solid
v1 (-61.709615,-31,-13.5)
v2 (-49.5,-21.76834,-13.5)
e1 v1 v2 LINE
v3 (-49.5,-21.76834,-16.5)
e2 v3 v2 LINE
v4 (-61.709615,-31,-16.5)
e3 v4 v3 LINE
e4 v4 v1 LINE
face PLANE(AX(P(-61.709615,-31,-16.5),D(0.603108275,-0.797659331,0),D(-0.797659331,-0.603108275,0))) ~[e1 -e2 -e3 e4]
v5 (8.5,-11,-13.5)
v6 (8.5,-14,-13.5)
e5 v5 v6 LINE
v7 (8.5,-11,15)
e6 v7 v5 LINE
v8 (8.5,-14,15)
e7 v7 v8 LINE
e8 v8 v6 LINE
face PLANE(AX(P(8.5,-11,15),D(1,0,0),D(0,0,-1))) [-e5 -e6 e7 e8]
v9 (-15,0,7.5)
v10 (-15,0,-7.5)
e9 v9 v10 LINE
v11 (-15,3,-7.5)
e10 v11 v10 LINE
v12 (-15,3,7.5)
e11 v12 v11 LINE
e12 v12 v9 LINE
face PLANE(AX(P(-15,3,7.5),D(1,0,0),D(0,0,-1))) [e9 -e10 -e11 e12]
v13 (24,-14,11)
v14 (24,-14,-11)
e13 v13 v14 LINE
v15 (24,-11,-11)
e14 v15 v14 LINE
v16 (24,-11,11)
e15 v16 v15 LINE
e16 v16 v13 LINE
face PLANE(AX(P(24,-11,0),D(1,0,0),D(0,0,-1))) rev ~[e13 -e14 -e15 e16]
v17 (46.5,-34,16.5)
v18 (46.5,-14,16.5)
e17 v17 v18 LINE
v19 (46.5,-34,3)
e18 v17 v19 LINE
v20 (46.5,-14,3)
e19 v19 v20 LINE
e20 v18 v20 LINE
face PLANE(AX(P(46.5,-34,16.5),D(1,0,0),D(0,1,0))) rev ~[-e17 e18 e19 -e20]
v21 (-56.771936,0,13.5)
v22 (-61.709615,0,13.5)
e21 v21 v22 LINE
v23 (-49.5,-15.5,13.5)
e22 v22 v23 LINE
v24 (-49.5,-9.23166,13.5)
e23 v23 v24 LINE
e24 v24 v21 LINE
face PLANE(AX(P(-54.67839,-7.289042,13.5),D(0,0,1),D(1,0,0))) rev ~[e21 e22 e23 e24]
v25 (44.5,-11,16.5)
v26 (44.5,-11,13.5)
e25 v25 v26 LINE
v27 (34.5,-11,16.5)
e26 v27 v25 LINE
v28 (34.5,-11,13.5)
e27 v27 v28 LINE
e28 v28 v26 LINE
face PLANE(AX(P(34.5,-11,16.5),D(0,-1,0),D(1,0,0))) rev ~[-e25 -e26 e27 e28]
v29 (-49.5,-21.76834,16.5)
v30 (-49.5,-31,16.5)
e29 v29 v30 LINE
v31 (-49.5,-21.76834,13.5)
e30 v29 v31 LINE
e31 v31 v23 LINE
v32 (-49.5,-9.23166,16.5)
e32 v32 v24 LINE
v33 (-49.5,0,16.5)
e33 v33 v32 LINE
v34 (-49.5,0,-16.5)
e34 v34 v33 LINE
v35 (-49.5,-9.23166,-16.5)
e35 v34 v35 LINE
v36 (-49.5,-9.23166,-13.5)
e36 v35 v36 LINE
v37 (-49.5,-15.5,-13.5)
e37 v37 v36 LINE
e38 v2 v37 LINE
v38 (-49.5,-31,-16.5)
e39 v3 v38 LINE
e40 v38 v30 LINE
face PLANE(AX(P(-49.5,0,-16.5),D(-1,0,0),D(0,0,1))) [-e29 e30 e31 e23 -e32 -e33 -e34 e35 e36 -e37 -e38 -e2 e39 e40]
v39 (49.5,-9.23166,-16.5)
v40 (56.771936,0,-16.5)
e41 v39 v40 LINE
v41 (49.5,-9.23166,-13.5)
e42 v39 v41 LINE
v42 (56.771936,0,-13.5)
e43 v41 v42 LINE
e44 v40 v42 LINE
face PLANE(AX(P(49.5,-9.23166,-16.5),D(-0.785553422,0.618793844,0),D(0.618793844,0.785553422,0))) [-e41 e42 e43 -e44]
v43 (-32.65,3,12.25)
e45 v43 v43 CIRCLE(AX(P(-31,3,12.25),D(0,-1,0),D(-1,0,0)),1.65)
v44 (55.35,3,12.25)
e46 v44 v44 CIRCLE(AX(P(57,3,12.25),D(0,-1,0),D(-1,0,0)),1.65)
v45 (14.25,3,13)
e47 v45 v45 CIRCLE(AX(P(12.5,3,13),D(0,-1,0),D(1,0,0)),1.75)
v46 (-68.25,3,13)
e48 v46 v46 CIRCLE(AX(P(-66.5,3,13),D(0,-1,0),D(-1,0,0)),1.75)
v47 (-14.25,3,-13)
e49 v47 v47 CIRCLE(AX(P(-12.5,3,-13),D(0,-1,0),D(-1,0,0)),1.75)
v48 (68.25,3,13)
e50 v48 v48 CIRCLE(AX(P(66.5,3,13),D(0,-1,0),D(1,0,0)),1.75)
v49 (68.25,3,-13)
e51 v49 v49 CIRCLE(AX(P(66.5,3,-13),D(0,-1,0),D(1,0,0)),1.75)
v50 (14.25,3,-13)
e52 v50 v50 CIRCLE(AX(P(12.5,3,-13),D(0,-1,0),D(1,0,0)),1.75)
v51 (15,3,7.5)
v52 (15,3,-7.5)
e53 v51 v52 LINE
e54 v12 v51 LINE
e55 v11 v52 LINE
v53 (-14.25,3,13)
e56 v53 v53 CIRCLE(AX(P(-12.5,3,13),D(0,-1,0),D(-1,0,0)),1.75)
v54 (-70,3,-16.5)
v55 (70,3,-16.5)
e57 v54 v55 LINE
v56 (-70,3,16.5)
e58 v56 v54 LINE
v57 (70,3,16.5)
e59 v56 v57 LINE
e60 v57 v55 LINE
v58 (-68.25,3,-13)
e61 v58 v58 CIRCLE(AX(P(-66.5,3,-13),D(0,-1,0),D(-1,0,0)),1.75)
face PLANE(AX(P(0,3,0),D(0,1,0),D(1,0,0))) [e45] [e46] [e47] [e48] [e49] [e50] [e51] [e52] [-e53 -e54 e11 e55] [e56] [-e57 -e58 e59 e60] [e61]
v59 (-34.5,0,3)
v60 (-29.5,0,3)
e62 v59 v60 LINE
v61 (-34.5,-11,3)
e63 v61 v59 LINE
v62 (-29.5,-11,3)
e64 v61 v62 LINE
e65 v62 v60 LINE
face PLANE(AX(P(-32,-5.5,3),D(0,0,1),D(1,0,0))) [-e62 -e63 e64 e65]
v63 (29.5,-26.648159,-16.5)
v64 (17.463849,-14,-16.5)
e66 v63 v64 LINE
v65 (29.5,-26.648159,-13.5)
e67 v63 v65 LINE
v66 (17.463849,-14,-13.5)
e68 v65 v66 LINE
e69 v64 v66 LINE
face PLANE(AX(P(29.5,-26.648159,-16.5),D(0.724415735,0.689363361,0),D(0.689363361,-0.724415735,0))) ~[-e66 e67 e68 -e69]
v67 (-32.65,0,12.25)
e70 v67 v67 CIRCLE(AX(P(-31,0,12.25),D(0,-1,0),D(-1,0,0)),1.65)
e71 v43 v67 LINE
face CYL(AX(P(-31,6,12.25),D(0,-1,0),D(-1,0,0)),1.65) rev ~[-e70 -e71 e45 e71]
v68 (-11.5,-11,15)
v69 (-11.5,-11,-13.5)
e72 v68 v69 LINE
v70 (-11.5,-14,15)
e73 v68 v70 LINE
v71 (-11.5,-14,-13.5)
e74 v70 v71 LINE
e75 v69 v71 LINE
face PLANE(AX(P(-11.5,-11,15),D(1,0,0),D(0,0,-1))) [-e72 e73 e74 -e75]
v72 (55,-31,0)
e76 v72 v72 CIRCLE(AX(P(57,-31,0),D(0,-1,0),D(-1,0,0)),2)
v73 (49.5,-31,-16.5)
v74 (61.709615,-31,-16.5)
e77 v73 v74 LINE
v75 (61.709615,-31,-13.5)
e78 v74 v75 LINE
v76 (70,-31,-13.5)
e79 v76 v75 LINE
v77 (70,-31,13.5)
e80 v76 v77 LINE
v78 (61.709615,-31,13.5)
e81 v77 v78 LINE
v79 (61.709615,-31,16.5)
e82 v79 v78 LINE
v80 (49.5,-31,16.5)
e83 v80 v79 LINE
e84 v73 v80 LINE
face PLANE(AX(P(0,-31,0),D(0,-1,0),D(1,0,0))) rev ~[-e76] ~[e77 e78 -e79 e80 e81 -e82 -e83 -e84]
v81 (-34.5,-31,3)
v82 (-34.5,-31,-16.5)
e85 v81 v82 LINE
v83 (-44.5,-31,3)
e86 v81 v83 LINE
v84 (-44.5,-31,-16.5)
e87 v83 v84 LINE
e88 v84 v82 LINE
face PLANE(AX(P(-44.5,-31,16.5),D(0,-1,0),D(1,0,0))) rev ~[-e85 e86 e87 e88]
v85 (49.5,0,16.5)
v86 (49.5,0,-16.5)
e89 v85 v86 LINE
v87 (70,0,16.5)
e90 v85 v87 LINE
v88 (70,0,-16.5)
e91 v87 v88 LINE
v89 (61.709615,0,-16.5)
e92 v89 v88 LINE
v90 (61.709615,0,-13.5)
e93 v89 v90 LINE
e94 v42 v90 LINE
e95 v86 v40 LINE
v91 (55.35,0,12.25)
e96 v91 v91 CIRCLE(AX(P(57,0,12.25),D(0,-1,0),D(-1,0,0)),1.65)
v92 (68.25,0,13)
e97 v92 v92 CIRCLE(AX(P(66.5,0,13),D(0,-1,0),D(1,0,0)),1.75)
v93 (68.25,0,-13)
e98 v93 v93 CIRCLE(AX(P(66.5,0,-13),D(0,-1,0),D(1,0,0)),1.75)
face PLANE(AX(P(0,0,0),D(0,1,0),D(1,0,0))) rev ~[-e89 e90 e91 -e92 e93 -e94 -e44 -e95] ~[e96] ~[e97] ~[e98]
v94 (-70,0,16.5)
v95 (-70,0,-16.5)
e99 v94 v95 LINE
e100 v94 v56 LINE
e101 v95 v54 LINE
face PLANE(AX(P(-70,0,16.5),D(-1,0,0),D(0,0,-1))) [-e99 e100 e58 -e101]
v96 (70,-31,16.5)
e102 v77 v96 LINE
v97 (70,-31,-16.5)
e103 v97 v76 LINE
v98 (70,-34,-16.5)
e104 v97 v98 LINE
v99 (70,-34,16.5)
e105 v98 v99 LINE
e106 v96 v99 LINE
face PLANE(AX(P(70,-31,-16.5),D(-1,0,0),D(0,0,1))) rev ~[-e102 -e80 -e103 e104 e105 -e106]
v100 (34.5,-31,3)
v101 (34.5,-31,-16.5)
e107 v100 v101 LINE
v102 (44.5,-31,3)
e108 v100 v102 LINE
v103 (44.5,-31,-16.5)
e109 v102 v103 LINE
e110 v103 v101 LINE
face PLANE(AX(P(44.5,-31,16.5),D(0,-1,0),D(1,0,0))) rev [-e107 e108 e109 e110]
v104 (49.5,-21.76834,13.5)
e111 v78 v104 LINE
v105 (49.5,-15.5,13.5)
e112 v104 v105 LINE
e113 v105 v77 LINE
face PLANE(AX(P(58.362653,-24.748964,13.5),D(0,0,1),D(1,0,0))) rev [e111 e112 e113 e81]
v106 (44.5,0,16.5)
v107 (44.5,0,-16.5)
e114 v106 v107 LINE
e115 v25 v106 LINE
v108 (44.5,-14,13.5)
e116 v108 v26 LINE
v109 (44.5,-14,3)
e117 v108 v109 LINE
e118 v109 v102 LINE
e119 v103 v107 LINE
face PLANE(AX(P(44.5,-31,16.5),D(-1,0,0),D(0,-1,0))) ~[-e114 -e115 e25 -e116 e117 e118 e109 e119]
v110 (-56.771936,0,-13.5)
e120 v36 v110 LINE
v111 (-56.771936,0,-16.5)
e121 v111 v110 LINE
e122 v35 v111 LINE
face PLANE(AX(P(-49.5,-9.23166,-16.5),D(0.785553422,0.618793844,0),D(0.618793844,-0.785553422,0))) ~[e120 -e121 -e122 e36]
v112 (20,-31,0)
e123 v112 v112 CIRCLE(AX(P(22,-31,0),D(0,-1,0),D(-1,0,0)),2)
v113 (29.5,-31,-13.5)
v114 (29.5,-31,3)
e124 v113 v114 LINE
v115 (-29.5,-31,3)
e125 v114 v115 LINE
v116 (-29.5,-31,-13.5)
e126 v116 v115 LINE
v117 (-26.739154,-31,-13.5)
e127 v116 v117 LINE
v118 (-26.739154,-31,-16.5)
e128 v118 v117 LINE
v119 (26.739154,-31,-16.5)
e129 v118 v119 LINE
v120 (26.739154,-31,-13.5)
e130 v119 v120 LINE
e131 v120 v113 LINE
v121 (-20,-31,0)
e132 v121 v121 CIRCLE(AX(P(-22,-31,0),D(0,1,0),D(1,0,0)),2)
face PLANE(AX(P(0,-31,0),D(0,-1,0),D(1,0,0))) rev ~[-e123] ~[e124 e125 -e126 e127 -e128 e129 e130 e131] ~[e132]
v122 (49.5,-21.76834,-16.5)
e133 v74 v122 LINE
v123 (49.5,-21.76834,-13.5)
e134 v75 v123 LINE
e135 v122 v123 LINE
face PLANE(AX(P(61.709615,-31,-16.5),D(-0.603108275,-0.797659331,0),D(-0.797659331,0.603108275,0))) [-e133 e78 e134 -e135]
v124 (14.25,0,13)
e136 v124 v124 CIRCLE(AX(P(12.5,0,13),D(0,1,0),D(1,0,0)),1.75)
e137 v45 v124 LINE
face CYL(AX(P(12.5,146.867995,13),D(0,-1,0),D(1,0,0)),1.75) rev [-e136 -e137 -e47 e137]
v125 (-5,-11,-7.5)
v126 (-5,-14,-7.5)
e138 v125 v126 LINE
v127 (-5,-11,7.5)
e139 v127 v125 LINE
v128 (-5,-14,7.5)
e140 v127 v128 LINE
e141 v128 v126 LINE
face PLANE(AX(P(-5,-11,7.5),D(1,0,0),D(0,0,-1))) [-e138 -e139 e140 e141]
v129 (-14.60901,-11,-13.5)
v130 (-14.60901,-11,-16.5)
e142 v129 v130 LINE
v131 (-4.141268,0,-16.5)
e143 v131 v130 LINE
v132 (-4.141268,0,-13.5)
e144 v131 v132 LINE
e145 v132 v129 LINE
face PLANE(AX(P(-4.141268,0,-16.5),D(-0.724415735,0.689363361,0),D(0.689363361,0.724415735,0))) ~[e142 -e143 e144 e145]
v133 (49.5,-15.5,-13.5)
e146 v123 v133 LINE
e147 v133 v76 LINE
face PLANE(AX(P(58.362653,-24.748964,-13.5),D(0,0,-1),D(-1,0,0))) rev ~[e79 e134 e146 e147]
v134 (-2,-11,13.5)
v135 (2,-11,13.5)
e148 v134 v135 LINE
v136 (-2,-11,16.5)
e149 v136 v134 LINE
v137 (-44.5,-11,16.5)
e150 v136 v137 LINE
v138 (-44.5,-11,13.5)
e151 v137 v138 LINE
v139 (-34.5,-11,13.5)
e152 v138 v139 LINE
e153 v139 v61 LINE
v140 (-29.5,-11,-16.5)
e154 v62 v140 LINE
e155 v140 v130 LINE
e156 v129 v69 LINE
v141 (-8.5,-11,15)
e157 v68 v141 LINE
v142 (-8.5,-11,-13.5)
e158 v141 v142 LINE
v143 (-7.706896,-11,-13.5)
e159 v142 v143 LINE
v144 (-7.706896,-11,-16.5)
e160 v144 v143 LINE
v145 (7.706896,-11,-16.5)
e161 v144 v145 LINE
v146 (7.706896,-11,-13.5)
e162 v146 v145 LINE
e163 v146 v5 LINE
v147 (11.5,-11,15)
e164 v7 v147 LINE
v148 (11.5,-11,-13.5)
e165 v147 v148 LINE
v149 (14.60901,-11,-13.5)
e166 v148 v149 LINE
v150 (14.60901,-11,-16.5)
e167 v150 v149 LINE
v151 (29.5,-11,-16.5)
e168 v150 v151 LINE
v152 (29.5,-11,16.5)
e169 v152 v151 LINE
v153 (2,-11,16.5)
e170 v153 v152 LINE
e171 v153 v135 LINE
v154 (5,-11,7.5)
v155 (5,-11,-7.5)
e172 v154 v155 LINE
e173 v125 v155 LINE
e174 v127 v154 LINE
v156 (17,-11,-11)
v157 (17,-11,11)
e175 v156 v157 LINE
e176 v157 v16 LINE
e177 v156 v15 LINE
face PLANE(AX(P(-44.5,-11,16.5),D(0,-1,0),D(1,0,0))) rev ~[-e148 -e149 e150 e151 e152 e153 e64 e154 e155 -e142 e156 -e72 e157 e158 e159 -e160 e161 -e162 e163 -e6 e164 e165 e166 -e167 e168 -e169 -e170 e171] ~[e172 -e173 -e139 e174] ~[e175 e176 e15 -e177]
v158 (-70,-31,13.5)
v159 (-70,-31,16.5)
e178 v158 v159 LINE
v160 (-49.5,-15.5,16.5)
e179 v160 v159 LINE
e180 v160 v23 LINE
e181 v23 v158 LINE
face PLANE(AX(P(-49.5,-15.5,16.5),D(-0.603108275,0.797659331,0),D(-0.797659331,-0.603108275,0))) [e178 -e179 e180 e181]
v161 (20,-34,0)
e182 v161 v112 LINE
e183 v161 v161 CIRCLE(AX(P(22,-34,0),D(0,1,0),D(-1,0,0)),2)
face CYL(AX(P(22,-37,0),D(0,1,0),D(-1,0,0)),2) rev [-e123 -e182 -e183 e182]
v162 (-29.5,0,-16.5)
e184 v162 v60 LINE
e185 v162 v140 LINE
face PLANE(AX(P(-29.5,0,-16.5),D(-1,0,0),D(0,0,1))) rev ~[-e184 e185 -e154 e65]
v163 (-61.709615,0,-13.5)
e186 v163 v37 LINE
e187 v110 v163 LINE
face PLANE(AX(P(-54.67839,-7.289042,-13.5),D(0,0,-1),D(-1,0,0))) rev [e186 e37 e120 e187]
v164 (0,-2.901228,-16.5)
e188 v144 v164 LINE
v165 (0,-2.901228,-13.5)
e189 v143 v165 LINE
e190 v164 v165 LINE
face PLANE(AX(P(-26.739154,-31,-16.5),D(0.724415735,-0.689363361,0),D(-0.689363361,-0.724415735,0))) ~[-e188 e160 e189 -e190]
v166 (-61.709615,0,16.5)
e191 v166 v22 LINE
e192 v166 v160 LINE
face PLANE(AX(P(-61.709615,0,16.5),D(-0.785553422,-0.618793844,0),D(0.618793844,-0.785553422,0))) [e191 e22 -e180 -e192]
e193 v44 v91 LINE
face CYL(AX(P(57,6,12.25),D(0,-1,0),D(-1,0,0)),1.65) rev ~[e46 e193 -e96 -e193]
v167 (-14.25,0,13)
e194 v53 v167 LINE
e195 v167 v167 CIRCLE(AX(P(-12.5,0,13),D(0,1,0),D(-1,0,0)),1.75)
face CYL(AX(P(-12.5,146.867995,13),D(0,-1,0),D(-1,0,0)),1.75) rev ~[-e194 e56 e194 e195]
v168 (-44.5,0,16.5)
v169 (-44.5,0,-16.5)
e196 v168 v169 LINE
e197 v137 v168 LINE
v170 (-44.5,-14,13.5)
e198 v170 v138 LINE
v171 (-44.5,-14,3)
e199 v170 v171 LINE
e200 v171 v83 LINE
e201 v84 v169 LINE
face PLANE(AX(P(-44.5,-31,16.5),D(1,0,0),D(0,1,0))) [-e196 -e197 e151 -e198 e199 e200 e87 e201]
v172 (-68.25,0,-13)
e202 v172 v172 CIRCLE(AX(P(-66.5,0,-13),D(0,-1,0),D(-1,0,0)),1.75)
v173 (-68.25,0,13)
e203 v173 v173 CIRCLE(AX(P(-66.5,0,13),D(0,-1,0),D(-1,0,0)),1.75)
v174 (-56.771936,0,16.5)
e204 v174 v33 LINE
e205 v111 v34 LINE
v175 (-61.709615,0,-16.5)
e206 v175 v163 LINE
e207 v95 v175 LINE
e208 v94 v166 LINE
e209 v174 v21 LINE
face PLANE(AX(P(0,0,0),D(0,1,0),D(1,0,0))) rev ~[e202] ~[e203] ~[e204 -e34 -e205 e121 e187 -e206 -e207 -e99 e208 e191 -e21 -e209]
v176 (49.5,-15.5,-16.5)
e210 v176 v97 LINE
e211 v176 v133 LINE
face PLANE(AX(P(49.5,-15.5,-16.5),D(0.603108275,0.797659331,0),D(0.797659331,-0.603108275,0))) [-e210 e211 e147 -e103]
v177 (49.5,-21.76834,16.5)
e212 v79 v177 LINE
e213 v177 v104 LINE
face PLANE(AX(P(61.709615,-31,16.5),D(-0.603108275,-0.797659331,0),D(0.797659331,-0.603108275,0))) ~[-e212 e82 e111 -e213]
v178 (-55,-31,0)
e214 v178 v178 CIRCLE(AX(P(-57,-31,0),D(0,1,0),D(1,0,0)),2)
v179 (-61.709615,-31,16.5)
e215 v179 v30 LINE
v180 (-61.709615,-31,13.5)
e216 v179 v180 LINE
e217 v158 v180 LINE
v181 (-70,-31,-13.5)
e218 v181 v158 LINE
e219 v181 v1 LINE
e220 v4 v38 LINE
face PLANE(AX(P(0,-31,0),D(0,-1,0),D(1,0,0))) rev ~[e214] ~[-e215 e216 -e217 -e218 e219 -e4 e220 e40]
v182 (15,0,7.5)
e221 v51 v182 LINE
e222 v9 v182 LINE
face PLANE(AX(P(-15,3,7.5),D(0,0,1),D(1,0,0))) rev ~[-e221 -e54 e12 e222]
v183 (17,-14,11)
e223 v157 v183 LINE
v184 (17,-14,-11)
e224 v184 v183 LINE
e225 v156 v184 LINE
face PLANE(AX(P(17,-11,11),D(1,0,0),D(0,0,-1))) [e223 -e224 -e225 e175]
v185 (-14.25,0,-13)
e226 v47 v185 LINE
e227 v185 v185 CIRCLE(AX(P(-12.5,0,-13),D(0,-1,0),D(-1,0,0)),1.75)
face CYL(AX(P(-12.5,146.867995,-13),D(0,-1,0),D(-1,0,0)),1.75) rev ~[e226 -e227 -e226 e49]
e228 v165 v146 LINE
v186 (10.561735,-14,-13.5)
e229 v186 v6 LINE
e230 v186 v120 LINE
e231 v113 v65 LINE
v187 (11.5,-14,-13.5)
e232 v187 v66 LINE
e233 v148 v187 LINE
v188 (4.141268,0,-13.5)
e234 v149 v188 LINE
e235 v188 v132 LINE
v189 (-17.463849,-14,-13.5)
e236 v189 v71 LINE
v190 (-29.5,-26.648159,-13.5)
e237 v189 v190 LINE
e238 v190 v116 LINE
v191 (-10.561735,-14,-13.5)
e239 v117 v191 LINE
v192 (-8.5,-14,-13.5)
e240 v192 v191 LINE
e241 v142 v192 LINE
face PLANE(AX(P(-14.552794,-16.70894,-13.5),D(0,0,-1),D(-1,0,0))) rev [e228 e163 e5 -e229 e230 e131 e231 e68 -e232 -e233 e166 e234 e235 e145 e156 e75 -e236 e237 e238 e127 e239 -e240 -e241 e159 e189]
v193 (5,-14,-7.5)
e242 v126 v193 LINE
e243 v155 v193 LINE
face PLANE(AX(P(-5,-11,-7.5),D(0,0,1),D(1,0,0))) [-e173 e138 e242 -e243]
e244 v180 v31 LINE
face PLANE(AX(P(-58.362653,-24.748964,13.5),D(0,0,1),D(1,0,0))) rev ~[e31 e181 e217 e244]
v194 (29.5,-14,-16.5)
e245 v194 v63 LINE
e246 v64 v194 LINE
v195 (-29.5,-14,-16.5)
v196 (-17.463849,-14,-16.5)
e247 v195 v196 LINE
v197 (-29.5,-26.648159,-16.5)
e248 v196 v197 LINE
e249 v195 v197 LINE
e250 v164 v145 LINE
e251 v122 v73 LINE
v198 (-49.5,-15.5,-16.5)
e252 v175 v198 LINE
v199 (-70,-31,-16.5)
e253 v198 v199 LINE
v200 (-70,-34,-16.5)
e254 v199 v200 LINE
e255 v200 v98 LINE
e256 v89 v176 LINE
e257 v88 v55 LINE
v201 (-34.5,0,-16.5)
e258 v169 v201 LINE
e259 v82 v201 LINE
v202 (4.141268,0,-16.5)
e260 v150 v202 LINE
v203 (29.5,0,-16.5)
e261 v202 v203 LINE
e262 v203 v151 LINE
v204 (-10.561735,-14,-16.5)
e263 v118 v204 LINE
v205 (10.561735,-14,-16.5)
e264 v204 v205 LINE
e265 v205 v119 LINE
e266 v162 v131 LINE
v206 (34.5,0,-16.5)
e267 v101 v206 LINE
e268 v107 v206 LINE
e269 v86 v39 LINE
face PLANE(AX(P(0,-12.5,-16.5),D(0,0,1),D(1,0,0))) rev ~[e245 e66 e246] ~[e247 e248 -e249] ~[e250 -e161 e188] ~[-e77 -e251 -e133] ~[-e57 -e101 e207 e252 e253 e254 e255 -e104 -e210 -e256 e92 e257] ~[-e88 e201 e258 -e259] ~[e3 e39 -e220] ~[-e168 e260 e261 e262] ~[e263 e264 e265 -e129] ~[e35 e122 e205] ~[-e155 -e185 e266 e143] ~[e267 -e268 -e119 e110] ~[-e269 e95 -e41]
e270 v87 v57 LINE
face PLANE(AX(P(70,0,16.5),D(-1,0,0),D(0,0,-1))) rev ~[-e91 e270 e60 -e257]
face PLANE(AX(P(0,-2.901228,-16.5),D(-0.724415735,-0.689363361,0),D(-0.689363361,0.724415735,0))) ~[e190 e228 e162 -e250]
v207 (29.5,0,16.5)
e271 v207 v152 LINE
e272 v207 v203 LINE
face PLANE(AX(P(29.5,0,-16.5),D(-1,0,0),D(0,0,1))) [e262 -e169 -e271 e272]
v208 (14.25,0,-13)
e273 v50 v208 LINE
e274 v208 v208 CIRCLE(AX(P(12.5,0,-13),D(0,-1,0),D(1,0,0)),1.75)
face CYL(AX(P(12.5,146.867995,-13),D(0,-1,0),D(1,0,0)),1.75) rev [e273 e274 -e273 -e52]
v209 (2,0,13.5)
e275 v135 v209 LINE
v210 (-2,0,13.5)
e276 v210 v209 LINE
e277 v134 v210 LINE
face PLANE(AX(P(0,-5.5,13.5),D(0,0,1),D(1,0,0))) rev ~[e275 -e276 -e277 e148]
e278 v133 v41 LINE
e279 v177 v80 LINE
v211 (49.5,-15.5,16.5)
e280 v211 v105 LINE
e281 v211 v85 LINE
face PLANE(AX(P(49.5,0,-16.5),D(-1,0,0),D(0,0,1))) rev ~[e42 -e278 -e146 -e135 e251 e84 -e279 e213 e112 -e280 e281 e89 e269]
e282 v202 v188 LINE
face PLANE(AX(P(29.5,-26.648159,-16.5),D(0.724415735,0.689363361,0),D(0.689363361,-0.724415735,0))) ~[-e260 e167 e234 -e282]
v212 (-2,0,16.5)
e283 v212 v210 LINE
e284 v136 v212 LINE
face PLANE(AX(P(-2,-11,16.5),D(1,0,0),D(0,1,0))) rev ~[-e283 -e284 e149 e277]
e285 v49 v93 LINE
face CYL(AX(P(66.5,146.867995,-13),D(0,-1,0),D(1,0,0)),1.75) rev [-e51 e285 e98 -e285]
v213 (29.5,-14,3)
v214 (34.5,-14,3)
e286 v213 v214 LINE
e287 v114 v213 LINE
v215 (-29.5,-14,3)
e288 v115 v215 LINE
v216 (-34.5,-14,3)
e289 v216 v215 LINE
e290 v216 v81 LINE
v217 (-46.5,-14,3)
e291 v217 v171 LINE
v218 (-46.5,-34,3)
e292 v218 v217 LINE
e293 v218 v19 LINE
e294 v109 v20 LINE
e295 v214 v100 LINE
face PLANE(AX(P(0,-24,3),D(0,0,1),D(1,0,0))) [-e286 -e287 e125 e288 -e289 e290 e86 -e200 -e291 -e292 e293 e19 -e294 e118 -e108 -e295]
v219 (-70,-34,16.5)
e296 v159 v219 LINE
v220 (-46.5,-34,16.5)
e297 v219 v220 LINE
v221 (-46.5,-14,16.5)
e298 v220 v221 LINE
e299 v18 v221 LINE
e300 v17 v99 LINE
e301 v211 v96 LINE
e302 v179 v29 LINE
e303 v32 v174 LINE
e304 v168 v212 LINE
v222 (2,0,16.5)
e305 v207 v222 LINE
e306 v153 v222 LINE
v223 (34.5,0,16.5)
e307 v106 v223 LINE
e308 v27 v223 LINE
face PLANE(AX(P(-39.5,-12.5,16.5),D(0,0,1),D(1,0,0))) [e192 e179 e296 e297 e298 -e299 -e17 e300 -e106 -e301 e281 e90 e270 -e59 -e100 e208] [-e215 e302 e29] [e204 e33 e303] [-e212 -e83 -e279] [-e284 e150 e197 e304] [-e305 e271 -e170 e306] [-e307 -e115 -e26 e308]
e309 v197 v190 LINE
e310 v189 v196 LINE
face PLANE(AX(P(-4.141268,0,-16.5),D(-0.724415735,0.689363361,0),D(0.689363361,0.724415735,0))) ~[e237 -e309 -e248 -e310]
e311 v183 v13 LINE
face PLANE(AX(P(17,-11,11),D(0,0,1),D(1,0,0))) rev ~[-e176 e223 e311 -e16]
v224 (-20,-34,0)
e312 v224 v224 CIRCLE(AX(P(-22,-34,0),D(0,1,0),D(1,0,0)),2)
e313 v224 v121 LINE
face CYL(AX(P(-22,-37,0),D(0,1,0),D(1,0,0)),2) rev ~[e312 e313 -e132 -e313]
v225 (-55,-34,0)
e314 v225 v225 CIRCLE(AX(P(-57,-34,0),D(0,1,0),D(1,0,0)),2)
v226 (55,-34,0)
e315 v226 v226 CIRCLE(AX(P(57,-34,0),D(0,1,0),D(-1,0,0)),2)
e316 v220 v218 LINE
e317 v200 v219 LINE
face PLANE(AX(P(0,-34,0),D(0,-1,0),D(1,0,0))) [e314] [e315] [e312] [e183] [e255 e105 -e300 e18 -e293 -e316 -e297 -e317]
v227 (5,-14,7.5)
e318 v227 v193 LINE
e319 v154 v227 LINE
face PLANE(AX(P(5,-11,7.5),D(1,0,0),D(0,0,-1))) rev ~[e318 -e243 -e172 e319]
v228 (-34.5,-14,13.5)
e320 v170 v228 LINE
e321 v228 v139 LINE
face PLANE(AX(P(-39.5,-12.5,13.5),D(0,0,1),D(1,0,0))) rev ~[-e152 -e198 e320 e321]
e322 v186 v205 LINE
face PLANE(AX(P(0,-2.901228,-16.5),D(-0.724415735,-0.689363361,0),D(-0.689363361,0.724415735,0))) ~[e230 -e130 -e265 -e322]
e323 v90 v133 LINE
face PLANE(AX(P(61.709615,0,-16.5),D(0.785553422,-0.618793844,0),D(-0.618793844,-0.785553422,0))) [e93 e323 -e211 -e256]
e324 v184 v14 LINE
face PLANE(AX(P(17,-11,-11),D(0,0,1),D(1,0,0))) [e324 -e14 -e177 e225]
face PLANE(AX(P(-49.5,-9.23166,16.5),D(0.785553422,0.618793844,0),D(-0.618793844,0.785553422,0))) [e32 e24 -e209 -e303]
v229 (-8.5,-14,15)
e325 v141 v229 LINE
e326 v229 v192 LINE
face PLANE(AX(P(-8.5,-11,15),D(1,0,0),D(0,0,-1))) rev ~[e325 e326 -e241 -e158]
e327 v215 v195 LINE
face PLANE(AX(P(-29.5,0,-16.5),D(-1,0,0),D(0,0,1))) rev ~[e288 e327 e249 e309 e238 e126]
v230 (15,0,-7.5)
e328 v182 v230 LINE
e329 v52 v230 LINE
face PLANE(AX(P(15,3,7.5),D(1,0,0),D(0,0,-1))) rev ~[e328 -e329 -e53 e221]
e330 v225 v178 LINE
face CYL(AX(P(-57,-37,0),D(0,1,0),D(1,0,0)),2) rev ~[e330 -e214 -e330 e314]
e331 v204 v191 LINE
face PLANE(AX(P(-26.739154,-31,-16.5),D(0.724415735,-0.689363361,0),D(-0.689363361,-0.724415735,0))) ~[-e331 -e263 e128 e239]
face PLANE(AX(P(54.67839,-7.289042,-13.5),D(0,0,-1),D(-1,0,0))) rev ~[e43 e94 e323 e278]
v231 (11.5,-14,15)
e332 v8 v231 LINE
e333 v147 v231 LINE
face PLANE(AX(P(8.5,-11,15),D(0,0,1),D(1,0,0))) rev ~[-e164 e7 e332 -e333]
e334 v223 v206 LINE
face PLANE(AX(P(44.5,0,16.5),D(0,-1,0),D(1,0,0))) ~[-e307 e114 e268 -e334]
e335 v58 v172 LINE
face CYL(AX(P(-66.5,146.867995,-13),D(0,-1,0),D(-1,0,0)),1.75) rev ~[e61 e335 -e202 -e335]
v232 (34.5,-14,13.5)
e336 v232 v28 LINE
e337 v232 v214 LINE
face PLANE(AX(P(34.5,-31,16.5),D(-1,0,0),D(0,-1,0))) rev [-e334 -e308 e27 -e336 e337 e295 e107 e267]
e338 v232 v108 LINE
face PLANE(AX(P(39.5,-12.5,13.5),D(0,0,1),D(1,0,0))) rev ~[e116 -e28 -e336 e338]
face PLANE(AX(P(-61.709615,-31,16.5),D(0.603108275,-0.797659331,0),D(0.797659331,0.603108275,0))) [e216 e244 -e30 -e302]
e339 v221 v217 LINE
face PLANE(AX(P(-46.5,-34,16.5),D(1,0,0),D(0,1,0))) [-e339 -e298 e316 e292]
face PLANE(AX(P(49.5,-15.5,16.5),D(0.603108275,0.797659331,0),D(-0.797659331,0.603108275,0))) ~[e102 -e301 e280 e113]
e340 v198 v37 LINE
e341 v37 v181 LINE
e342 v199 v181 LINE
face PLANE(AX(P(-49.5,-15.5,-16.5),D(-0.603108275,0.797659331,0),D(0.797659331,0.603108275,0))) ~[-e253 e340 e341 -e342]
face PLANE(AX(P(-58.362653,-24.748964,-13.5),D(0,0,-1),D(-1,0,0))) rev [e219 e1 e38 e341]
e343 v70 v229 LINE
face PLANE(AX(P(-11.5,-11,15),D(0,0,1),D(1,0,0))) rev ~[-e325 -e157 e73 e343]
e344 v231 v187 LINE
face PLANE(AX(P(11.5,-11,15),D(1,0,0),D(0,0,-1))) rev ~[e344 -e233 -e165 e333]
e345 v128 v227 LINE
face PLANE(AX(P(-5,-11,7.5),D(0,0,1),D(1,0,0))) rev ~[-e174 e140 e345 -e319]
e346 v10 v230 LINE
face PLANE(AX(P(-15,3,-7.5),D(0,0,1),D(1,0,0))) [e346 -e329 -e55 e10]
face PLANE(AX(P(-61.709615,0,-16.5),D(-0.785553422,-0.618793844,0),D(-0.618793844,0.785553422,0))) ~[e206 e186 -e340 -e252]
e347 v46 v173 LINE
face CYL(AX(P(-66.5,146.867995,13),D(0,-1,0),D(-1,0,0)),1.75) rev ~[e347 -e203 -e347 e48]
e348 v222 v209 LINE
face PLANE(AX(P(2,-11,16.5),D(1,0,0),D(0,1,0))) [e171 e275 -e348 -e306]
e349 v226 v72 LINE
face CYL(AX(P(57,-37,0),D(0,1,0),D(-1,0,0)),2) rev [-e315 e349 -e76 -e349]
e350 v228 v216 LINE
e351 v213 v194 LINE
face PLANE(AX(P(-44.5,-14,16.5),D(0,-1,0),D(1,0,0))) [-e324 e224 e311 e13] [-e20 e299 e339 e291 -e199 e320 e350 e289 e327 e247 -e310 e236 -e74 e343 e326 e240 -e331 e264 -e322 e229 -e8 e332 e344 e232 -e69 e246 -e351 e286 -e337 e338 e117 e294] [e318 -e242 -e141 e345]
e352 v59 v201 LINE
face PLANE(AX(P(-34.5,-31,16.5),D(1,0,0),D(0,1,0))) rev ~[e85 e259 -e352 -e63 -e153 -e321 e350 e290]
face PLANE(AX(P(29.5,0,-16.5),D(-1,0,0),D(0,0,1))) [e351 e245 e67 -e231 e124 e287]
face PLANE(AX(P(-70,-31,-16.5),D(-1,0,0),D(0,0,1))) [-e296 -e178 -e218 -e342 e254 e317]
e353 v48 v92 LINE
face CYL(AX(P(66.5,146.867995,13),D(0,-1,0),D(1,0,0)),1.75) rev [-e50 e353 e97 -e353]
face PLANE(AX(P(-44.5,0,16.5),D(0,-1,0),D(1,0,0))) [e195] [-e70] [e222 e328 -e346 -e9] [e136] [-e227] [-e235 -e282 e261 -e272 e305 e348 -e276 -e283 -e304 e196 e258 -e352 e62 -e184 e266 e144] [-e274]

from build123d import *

# Parameters (mm, degrees)
SKETCH_1_W            = 140
SKETCH_1_H            = 33
EXTRUDE_1_DEPTH       = 3
HOLE_WIZARD_1_D       = 3.5
SKETCH_5_W            = 10
SKETCH_5_H            = 33
EXTRUDE_2_DEPTH       = 31
SKETCH_6_W            = 140
SKETCH_6_H            = 33
EXTRUDE_3_DEPTH       = 3
HOLE_WIZARD_2_D       = 4
HOLE_WIZARD_2_DEPTH   = 3
EXTRUDE_7_DEPTH       = 3
MIRROR_4_COPY_1_DEPTH = 3
EXTRUDE_8_DEPTH       = 3
SKETCH_12_W           = 10
SKETCH_12_H           = 31
CUT_EXTRUDE_1_DEPTH   = 85.528101836
SKETCH_14_W           = 18
SKETCH_14_H           = 3.3
CUT_EXTRUDE_3_DEPTH   = 3
SKETCH_17_W           = 30
SKETCH_17_H           = 15
CUT_EXTRUDE_5_DEPTH   = 5
SKETCH_22_W           = 15
SKETCH_22_H           = 15.5
CUT_EXTRUDE_6_DEPTH   = 3
SKETCH_23_W           = 93
SKETCH_23_H           = 20
CUT_EXTRUDE_7_DEPTH   = 13.5
SKETCH_24_W           = 59
SKETCH_24_H           = 14
CUT_EXTRUDE_8_DEPTH   = 3
SKETCH_26_W           = 59
SKETCH_26_H           = 3
EXTRUDE_9_DEPTH       = 33
SKETCH_27_W           = 1.5
SKETCH_27_H           = 28.5
CUT_EXTRUDE_9_DEPTH   = 3
SKETCH_28_W           = 10
SKETCH_28_H           = 3
EXTRUDE_10_DEPTH      = 3
SKETCH_29_W           = 10
SKETCH_29_H           = 15
CUT_EXTRUDE_10_DEPTH  = 3
SKETCH_30_W           = 4
SKETCH_30_H           = 11
EXTRUDE_11_DEPTH      = 3
CUT_EXTRUDE_11_REACH  = 77.507
SKETCH_31_W           = 7
SKETCH_31_H           = 11
SKETCH_35_W           = 5
SKETCH_35_H           = 11
CUT_EXTRUDE_12_DEPTH  = 13.5
HOLE_WIZARD_3_D       = 3.3
HOLE_WIZARD_3_DEPTH   = 3


with BuildPart() as part:
    # 草图1 → 凸台-拉伸1 (new body)
    with BuildSketch(Plane(origin=(0, 0, 0), x_dir=(1, 0, 0), z_dir=(0, 1, 0))):
        Rectangle(SKETCH_1_W, SKETCH_1_H)
    extrude(amount=EXTRUDE_1_DEPTH)

    # 孔1 (through all)
    with Locations(Plane(origin=(0, 3, 0), x_dir=(1, 0, 0), z_dir=(0, 1, 0))):
        with Locations((-66.5, 13), (-12.5, 13), (-12.5, -13), (-66.5, -13)):
            hole_wizard_1 = Hole(HOLE_WIZARD_1_D / 2)

    # 镜向1: 孔1 across plane
    add(hole_wizard_1.mirror(Plane.ZY), mode=Mode.SUBTRACT)

    # 草图5 → 凸台-拉伸2 (add)
    with BuildSketch(Plane.XZ):
        with Locations((-44.5, 0)):
            Rectangle(SKETCH_5_W, SKETCH_5_H)
        with Locations((-34.5, 0)):
            Rectangle(SKETCH_5_W, SKETCH_5_H)
        with Locations((34.5, 0)):
            Rectangle(SKETCH_5_W, SKETCH_5_H)
        with Locations((44.5, 0)):
            Rectangle(SKETCH_5_W, SKETCH_5_H)
    extrude(amount=EXTRUDE_2_DEPTH)

    # 草图6 → 凸台-拉伸3 (add)
    with BuildSketch(Plane.XZ.offset(31)):
        Rectangle(SKETCH_6_W, SKETCH_6_H)
    extrude(amount=EXTRUDE_3_DEPTH)

    # 孔2
    with Locations(Plane(origin=(0, -34, 0), x_dir=(-1, 0, 0), z_dir=(0, -1, 0))):
        with Locations((57, 0), (22, 0)):
            hole_wizard_2 = Hole(HOLE_WIZARD_2_D / 2, depth=HOLE_WIZARD_2_DEPTH)

    # 镜向2: 孔2 across plane
    add(hole_wizard_2.mirror(Plane.ZY), mode=Mode.SUBTRACT)

    # 草图10 → 凸台-拉伸7 (add)
    with BuildSketch(Plane.XY.offset(16.5)):
        Polygon((-61.709614661, 0), (-49.5, -15.5), (-49.5, -9.231659865), align=None)
        Polygon((-61.709614661, 0), (-49.5, -9.231659865), (-56.771936106, 0), align=None)
        Polygon((-49.5, -15.5), (-70, -31), (-61.709614661, -31), (-49.5, -21.768340135), align=None)
    extrude_7 = extrude(amount=-EXTRUDE_7_DEPTH)

    # 镜向3: 凸台-拉伸7 across plane
    add(extrude_7.mirror(Plane.XY))

    # 镜向4: 凸台-拉伸7 across plane
    add(extrude_7.mirror(Plane.ZY))

    # 镜向4 copy 1 sketch → 镜向4 copy 1 (add)
    with BuildSketch(Plane(origin=(0, 0, -16.5), x_dir=(-1, 0, 0), z_dir=(0, 0, -1))):
        Polygon((-61.709614661, 0), (-49.5, -15.5), (-49.5, -9.231659865), align=None)
        Polygon((-61.709614661, 0), (-49.5, -9.231659865), (-56.771936106, 0), align=None)
        Polygon((-49.5, -15.5), (-70, -31), (-61.709614661, -31), (-49.5, -21.768340135), align=None)
    extrude(amount=-MIRROR_4_COPY_1_DEPTH)

    # 草图11 → 凸台-拉伸8 (add)
    with BuildSketch(Plane.XY.offset(16.5)):
        Polygon((-1.380422804, -1.450613794), (-29.5, -31), (-26.739154392, -31), (0, -2.901227588), align=None)
        Polygon((-29.5, -26.648158618), (-29.5, -31), (-1.380422804, -1.450613794), (0, 0), (-4.141268412, 0), align=None)
        Polygon((0, 0), (-1.380422804, -1.450613794), (0, -2.901227588), (1.380422804, -1.450613794), align=None)
        Polygon((1.380422804, -1.450613794), (0, -2.901227588), (26.739154392, -31), (29.5, -31), align=None)
        Polygon((4.141268412, 0), (0, 0), (1.380422804, -1.450613794), (29.5, -31), (29.5, -26.648158618), align=None)
    extrude_8 = extrude(amount=-EXTRUDE_8_DEPTH)

    # 镜向5: 凸台-拉伸8 across plane
    add(extrude_8.mirror(Plane.XY))

    # 草图12 → 切除-拉伸1 (cut, through all)
    with BuildSketch(Plane.XY.offset(16.5)):
        with Locations((-39.5, -15.5)):
            Rectangle(SKETCH_12_W, SKETCH_12_H)
    cut_extrude_1 = extrude(amount=-CUT_EXTRUDE_1_DEPTH, mode=Mode.SUBTRACT)

    # 镜向6: 切除-拉伸1 across plane
    add(cut_extrude_1.mirror(Plane.ZY), mode=Mode.SUBTRACT)

    # 草图14 → 切除-拉伸3 (cut)
    with BuildSketch(Plane(origin=(0, -31, 0), x_dir=(1, 0, 0), z_dir=(0, 1, 0))):
        with Locations((0, -9.5)):
            Rectangle(SKETCH_14_W, SKETCH_14_H)
    extrude(amount=-CUT_EXTRUDE_3_DEPTH, mode=Mode.SUBTRACT)

    # 草图17 → 切除-拉伸5 (cut)
    with BuildSketch(Plane(origin=(0, 3, 0), x_dir=(1, 0, 0), z_dir=(0, 1, 0))):
        Rectangle(SKETCH_17_W, SKETCH_17_H)
    extrude(amount=-CUT_EXTRUDE_5_DEPTH, mode=Mode.SUBTRACT)

    # 草图22 → 切除-拉伸6 (cut)
    with BuildSketch(Plane.XY.offset(16.5)):
        with Locations((57, -7.75)):
            Rectangle(SKETCH_22_W, SKETCH_22_H)
    extrude(amount=-CUT_EXTRUDE_6_DEPTH, mode=Mode.SUBTRACT)

    # 草图23 → 切除-拉伸7 (cut)
    with BuildSketch(Plane.XY.offset(16.5)):
        with Locations((0, -24)):
            Rectangle(SKETCH_23_W, SKETCH_23_H)
    extrude(amount=-CUT_EXTRUDE_7_DEPTH, mode=Mode.SUBTRACT)

    # 草图24 → 切除-拉伸8 (cut)
    with BuildSketch(Plane.XY.offset(16.5)):
        with Locations((0, -7)):
            Rectangle(SKETCH_24_W, SKETCH_24_H)
    extrude(amount=-CUT_EXTRUDE_8_DEPTH, mode=Mode.SUBTRACT)

    # 草图26 → 凸台-拉伸9 (add)
    with BuildSketch(Plane.XY.offset(16.5)):
        with Locations((0, -12.5)):
            Rectangle(SKETCH_26_W, SKETCH_26_H)
    extrude(amount=-EXTRUDE_9_DEPTH)

    # 草图27 → 切除-拉伸9 (cut)
    with BuildSketch(Plane(origin=(0, -11, 0), x_dir=(1, 0, 0), z_dir=(0, 1, 0))):
        with Locations((-10.75, -0.75)):
            Rectangle(SKETCH_27_W, SKETCH_27_H)
        with Locations((-9.25, -0.75)):
            Rectangle(SKETCH_27_W, SKETCH_27_H)
        with Locations((9.25, -0.75)):
            Rectangle(SKETCH_27_W, SKETCH_27_H)
        with Locations((10.75, -0.75)):
            Rectangle(SKETCH_27_W, SKETCH_27_H)
    extrude(amount=-CUT_EXTRUDE_9_DEPTH, mode=Mode.SUBTRACT)

    # 草图28 → 凸台-拉伸10 (add)
    with BuildSketch(Plane.XY.offset(16.5)):
        with Locations((-39.5, -12.5)):
            Rectangle(SKETCH_28_W, SKETCH_28_H)
        with Locations((39.5, -12.5)):
            Rectangle(SKETCH_28_W, SKETCH_28_H)
    extrude(amount=-EXTRUDE_10_DEPTH)

    # 草图29 → 切除-拉伸10 (cut)
    with BuildSketch(Plane(origin=(0, -11, 0), x_dir=(1, 0, 0), z_dir=(0, 1, 0))):
        Rectangle(SKETCH_29_W, SKETCH_29_H)
    extrude(amount=-CUT_EXTRUDE_10_DEPTH, mode=Mode.SUBTRACT)

    # 草图30 → 凸台-拉伸11 (add)
    with BuildSketch(Plane.XY.offset(16.5)):
        with Locations((0, -5.5)):
            Rectangle(SKETCH_30_W, SKETCH_30_H)
    extrude(amount=-EXTRUDE_11_DEPTH)

    # 草图31 → 切除-拉伸11 (cut, up to next)
    with BuildSketch(Plane(origin=(0, -11, 0), x_dir=(1, 0, 0), z_dir=(0, 1, 0)), mode=Mode.PRIVATE) as cut_extrude_11_sk1:
        with Locations((20.5, -5.5)):
            Rectangle(SKETCH_31_W, SKETCH_31_H)
    cut_extrude_11_tool1 = extrude(cut_extrude_11_sk1.sketch, amount=-CUT_EXTRUDE_11_REACH, mode=Mode.PRIVATE) & part.part
    # 草图31 → 切除-拉伸11 (cut, up to next)
    with BuildSketch(Plane(origin=(0, -11, 0), x_dir=(1, 0, 0), z_dir=(0, 1, 0)), mode=Mode.PRIVATE) as cut_extrude_11_sk2:
        with Locations((20.5, 5.5)):
            Rectangle(SKETCH_31_W, SKETCH_31_H)
    cut_extrude_11_tool2 = extrude(cut_extrude_11_sk2.sketch, amount=-CUT_EXTRUDE_11_REACH, mode=Mode.PRIVATE) & part.part
    add(cut_extrude_11_tool1.solids().sort_by_distance((20.5, -11, 5.5))[0], mode=Mode.SUBTRACT)
    add(cut_extrude_11_tool2.solids().sort_by_distance((20.5, -11, -5.5))[0], mode=Mode.SUBTRACT)

    # 草图35 → 切除-拉伸12 (cut)
    with BuildSketch(Plane.XY.offset(16.5)):
        with Locations((-32, -5.5)):
            Rectangle(SKETCH_35_W, SKETCH_35_H)
    extrude(amount=-CUT_EXTRUDE_12_DEPTH, mode=Mode.SUBTRACT)

    # 孔3
    with Locations(Plane(origin=(0, 3, 0), x_dir=(1, 0, 0), z_dir=(0, 1, 0))):
        with Locations((57, -12.25), (-31, -12.25)):
            Hole(HOLE_WIZARD_3_D / 2, depth=HOLE_WIZARD_3_DEPTH)


solid = part.part
